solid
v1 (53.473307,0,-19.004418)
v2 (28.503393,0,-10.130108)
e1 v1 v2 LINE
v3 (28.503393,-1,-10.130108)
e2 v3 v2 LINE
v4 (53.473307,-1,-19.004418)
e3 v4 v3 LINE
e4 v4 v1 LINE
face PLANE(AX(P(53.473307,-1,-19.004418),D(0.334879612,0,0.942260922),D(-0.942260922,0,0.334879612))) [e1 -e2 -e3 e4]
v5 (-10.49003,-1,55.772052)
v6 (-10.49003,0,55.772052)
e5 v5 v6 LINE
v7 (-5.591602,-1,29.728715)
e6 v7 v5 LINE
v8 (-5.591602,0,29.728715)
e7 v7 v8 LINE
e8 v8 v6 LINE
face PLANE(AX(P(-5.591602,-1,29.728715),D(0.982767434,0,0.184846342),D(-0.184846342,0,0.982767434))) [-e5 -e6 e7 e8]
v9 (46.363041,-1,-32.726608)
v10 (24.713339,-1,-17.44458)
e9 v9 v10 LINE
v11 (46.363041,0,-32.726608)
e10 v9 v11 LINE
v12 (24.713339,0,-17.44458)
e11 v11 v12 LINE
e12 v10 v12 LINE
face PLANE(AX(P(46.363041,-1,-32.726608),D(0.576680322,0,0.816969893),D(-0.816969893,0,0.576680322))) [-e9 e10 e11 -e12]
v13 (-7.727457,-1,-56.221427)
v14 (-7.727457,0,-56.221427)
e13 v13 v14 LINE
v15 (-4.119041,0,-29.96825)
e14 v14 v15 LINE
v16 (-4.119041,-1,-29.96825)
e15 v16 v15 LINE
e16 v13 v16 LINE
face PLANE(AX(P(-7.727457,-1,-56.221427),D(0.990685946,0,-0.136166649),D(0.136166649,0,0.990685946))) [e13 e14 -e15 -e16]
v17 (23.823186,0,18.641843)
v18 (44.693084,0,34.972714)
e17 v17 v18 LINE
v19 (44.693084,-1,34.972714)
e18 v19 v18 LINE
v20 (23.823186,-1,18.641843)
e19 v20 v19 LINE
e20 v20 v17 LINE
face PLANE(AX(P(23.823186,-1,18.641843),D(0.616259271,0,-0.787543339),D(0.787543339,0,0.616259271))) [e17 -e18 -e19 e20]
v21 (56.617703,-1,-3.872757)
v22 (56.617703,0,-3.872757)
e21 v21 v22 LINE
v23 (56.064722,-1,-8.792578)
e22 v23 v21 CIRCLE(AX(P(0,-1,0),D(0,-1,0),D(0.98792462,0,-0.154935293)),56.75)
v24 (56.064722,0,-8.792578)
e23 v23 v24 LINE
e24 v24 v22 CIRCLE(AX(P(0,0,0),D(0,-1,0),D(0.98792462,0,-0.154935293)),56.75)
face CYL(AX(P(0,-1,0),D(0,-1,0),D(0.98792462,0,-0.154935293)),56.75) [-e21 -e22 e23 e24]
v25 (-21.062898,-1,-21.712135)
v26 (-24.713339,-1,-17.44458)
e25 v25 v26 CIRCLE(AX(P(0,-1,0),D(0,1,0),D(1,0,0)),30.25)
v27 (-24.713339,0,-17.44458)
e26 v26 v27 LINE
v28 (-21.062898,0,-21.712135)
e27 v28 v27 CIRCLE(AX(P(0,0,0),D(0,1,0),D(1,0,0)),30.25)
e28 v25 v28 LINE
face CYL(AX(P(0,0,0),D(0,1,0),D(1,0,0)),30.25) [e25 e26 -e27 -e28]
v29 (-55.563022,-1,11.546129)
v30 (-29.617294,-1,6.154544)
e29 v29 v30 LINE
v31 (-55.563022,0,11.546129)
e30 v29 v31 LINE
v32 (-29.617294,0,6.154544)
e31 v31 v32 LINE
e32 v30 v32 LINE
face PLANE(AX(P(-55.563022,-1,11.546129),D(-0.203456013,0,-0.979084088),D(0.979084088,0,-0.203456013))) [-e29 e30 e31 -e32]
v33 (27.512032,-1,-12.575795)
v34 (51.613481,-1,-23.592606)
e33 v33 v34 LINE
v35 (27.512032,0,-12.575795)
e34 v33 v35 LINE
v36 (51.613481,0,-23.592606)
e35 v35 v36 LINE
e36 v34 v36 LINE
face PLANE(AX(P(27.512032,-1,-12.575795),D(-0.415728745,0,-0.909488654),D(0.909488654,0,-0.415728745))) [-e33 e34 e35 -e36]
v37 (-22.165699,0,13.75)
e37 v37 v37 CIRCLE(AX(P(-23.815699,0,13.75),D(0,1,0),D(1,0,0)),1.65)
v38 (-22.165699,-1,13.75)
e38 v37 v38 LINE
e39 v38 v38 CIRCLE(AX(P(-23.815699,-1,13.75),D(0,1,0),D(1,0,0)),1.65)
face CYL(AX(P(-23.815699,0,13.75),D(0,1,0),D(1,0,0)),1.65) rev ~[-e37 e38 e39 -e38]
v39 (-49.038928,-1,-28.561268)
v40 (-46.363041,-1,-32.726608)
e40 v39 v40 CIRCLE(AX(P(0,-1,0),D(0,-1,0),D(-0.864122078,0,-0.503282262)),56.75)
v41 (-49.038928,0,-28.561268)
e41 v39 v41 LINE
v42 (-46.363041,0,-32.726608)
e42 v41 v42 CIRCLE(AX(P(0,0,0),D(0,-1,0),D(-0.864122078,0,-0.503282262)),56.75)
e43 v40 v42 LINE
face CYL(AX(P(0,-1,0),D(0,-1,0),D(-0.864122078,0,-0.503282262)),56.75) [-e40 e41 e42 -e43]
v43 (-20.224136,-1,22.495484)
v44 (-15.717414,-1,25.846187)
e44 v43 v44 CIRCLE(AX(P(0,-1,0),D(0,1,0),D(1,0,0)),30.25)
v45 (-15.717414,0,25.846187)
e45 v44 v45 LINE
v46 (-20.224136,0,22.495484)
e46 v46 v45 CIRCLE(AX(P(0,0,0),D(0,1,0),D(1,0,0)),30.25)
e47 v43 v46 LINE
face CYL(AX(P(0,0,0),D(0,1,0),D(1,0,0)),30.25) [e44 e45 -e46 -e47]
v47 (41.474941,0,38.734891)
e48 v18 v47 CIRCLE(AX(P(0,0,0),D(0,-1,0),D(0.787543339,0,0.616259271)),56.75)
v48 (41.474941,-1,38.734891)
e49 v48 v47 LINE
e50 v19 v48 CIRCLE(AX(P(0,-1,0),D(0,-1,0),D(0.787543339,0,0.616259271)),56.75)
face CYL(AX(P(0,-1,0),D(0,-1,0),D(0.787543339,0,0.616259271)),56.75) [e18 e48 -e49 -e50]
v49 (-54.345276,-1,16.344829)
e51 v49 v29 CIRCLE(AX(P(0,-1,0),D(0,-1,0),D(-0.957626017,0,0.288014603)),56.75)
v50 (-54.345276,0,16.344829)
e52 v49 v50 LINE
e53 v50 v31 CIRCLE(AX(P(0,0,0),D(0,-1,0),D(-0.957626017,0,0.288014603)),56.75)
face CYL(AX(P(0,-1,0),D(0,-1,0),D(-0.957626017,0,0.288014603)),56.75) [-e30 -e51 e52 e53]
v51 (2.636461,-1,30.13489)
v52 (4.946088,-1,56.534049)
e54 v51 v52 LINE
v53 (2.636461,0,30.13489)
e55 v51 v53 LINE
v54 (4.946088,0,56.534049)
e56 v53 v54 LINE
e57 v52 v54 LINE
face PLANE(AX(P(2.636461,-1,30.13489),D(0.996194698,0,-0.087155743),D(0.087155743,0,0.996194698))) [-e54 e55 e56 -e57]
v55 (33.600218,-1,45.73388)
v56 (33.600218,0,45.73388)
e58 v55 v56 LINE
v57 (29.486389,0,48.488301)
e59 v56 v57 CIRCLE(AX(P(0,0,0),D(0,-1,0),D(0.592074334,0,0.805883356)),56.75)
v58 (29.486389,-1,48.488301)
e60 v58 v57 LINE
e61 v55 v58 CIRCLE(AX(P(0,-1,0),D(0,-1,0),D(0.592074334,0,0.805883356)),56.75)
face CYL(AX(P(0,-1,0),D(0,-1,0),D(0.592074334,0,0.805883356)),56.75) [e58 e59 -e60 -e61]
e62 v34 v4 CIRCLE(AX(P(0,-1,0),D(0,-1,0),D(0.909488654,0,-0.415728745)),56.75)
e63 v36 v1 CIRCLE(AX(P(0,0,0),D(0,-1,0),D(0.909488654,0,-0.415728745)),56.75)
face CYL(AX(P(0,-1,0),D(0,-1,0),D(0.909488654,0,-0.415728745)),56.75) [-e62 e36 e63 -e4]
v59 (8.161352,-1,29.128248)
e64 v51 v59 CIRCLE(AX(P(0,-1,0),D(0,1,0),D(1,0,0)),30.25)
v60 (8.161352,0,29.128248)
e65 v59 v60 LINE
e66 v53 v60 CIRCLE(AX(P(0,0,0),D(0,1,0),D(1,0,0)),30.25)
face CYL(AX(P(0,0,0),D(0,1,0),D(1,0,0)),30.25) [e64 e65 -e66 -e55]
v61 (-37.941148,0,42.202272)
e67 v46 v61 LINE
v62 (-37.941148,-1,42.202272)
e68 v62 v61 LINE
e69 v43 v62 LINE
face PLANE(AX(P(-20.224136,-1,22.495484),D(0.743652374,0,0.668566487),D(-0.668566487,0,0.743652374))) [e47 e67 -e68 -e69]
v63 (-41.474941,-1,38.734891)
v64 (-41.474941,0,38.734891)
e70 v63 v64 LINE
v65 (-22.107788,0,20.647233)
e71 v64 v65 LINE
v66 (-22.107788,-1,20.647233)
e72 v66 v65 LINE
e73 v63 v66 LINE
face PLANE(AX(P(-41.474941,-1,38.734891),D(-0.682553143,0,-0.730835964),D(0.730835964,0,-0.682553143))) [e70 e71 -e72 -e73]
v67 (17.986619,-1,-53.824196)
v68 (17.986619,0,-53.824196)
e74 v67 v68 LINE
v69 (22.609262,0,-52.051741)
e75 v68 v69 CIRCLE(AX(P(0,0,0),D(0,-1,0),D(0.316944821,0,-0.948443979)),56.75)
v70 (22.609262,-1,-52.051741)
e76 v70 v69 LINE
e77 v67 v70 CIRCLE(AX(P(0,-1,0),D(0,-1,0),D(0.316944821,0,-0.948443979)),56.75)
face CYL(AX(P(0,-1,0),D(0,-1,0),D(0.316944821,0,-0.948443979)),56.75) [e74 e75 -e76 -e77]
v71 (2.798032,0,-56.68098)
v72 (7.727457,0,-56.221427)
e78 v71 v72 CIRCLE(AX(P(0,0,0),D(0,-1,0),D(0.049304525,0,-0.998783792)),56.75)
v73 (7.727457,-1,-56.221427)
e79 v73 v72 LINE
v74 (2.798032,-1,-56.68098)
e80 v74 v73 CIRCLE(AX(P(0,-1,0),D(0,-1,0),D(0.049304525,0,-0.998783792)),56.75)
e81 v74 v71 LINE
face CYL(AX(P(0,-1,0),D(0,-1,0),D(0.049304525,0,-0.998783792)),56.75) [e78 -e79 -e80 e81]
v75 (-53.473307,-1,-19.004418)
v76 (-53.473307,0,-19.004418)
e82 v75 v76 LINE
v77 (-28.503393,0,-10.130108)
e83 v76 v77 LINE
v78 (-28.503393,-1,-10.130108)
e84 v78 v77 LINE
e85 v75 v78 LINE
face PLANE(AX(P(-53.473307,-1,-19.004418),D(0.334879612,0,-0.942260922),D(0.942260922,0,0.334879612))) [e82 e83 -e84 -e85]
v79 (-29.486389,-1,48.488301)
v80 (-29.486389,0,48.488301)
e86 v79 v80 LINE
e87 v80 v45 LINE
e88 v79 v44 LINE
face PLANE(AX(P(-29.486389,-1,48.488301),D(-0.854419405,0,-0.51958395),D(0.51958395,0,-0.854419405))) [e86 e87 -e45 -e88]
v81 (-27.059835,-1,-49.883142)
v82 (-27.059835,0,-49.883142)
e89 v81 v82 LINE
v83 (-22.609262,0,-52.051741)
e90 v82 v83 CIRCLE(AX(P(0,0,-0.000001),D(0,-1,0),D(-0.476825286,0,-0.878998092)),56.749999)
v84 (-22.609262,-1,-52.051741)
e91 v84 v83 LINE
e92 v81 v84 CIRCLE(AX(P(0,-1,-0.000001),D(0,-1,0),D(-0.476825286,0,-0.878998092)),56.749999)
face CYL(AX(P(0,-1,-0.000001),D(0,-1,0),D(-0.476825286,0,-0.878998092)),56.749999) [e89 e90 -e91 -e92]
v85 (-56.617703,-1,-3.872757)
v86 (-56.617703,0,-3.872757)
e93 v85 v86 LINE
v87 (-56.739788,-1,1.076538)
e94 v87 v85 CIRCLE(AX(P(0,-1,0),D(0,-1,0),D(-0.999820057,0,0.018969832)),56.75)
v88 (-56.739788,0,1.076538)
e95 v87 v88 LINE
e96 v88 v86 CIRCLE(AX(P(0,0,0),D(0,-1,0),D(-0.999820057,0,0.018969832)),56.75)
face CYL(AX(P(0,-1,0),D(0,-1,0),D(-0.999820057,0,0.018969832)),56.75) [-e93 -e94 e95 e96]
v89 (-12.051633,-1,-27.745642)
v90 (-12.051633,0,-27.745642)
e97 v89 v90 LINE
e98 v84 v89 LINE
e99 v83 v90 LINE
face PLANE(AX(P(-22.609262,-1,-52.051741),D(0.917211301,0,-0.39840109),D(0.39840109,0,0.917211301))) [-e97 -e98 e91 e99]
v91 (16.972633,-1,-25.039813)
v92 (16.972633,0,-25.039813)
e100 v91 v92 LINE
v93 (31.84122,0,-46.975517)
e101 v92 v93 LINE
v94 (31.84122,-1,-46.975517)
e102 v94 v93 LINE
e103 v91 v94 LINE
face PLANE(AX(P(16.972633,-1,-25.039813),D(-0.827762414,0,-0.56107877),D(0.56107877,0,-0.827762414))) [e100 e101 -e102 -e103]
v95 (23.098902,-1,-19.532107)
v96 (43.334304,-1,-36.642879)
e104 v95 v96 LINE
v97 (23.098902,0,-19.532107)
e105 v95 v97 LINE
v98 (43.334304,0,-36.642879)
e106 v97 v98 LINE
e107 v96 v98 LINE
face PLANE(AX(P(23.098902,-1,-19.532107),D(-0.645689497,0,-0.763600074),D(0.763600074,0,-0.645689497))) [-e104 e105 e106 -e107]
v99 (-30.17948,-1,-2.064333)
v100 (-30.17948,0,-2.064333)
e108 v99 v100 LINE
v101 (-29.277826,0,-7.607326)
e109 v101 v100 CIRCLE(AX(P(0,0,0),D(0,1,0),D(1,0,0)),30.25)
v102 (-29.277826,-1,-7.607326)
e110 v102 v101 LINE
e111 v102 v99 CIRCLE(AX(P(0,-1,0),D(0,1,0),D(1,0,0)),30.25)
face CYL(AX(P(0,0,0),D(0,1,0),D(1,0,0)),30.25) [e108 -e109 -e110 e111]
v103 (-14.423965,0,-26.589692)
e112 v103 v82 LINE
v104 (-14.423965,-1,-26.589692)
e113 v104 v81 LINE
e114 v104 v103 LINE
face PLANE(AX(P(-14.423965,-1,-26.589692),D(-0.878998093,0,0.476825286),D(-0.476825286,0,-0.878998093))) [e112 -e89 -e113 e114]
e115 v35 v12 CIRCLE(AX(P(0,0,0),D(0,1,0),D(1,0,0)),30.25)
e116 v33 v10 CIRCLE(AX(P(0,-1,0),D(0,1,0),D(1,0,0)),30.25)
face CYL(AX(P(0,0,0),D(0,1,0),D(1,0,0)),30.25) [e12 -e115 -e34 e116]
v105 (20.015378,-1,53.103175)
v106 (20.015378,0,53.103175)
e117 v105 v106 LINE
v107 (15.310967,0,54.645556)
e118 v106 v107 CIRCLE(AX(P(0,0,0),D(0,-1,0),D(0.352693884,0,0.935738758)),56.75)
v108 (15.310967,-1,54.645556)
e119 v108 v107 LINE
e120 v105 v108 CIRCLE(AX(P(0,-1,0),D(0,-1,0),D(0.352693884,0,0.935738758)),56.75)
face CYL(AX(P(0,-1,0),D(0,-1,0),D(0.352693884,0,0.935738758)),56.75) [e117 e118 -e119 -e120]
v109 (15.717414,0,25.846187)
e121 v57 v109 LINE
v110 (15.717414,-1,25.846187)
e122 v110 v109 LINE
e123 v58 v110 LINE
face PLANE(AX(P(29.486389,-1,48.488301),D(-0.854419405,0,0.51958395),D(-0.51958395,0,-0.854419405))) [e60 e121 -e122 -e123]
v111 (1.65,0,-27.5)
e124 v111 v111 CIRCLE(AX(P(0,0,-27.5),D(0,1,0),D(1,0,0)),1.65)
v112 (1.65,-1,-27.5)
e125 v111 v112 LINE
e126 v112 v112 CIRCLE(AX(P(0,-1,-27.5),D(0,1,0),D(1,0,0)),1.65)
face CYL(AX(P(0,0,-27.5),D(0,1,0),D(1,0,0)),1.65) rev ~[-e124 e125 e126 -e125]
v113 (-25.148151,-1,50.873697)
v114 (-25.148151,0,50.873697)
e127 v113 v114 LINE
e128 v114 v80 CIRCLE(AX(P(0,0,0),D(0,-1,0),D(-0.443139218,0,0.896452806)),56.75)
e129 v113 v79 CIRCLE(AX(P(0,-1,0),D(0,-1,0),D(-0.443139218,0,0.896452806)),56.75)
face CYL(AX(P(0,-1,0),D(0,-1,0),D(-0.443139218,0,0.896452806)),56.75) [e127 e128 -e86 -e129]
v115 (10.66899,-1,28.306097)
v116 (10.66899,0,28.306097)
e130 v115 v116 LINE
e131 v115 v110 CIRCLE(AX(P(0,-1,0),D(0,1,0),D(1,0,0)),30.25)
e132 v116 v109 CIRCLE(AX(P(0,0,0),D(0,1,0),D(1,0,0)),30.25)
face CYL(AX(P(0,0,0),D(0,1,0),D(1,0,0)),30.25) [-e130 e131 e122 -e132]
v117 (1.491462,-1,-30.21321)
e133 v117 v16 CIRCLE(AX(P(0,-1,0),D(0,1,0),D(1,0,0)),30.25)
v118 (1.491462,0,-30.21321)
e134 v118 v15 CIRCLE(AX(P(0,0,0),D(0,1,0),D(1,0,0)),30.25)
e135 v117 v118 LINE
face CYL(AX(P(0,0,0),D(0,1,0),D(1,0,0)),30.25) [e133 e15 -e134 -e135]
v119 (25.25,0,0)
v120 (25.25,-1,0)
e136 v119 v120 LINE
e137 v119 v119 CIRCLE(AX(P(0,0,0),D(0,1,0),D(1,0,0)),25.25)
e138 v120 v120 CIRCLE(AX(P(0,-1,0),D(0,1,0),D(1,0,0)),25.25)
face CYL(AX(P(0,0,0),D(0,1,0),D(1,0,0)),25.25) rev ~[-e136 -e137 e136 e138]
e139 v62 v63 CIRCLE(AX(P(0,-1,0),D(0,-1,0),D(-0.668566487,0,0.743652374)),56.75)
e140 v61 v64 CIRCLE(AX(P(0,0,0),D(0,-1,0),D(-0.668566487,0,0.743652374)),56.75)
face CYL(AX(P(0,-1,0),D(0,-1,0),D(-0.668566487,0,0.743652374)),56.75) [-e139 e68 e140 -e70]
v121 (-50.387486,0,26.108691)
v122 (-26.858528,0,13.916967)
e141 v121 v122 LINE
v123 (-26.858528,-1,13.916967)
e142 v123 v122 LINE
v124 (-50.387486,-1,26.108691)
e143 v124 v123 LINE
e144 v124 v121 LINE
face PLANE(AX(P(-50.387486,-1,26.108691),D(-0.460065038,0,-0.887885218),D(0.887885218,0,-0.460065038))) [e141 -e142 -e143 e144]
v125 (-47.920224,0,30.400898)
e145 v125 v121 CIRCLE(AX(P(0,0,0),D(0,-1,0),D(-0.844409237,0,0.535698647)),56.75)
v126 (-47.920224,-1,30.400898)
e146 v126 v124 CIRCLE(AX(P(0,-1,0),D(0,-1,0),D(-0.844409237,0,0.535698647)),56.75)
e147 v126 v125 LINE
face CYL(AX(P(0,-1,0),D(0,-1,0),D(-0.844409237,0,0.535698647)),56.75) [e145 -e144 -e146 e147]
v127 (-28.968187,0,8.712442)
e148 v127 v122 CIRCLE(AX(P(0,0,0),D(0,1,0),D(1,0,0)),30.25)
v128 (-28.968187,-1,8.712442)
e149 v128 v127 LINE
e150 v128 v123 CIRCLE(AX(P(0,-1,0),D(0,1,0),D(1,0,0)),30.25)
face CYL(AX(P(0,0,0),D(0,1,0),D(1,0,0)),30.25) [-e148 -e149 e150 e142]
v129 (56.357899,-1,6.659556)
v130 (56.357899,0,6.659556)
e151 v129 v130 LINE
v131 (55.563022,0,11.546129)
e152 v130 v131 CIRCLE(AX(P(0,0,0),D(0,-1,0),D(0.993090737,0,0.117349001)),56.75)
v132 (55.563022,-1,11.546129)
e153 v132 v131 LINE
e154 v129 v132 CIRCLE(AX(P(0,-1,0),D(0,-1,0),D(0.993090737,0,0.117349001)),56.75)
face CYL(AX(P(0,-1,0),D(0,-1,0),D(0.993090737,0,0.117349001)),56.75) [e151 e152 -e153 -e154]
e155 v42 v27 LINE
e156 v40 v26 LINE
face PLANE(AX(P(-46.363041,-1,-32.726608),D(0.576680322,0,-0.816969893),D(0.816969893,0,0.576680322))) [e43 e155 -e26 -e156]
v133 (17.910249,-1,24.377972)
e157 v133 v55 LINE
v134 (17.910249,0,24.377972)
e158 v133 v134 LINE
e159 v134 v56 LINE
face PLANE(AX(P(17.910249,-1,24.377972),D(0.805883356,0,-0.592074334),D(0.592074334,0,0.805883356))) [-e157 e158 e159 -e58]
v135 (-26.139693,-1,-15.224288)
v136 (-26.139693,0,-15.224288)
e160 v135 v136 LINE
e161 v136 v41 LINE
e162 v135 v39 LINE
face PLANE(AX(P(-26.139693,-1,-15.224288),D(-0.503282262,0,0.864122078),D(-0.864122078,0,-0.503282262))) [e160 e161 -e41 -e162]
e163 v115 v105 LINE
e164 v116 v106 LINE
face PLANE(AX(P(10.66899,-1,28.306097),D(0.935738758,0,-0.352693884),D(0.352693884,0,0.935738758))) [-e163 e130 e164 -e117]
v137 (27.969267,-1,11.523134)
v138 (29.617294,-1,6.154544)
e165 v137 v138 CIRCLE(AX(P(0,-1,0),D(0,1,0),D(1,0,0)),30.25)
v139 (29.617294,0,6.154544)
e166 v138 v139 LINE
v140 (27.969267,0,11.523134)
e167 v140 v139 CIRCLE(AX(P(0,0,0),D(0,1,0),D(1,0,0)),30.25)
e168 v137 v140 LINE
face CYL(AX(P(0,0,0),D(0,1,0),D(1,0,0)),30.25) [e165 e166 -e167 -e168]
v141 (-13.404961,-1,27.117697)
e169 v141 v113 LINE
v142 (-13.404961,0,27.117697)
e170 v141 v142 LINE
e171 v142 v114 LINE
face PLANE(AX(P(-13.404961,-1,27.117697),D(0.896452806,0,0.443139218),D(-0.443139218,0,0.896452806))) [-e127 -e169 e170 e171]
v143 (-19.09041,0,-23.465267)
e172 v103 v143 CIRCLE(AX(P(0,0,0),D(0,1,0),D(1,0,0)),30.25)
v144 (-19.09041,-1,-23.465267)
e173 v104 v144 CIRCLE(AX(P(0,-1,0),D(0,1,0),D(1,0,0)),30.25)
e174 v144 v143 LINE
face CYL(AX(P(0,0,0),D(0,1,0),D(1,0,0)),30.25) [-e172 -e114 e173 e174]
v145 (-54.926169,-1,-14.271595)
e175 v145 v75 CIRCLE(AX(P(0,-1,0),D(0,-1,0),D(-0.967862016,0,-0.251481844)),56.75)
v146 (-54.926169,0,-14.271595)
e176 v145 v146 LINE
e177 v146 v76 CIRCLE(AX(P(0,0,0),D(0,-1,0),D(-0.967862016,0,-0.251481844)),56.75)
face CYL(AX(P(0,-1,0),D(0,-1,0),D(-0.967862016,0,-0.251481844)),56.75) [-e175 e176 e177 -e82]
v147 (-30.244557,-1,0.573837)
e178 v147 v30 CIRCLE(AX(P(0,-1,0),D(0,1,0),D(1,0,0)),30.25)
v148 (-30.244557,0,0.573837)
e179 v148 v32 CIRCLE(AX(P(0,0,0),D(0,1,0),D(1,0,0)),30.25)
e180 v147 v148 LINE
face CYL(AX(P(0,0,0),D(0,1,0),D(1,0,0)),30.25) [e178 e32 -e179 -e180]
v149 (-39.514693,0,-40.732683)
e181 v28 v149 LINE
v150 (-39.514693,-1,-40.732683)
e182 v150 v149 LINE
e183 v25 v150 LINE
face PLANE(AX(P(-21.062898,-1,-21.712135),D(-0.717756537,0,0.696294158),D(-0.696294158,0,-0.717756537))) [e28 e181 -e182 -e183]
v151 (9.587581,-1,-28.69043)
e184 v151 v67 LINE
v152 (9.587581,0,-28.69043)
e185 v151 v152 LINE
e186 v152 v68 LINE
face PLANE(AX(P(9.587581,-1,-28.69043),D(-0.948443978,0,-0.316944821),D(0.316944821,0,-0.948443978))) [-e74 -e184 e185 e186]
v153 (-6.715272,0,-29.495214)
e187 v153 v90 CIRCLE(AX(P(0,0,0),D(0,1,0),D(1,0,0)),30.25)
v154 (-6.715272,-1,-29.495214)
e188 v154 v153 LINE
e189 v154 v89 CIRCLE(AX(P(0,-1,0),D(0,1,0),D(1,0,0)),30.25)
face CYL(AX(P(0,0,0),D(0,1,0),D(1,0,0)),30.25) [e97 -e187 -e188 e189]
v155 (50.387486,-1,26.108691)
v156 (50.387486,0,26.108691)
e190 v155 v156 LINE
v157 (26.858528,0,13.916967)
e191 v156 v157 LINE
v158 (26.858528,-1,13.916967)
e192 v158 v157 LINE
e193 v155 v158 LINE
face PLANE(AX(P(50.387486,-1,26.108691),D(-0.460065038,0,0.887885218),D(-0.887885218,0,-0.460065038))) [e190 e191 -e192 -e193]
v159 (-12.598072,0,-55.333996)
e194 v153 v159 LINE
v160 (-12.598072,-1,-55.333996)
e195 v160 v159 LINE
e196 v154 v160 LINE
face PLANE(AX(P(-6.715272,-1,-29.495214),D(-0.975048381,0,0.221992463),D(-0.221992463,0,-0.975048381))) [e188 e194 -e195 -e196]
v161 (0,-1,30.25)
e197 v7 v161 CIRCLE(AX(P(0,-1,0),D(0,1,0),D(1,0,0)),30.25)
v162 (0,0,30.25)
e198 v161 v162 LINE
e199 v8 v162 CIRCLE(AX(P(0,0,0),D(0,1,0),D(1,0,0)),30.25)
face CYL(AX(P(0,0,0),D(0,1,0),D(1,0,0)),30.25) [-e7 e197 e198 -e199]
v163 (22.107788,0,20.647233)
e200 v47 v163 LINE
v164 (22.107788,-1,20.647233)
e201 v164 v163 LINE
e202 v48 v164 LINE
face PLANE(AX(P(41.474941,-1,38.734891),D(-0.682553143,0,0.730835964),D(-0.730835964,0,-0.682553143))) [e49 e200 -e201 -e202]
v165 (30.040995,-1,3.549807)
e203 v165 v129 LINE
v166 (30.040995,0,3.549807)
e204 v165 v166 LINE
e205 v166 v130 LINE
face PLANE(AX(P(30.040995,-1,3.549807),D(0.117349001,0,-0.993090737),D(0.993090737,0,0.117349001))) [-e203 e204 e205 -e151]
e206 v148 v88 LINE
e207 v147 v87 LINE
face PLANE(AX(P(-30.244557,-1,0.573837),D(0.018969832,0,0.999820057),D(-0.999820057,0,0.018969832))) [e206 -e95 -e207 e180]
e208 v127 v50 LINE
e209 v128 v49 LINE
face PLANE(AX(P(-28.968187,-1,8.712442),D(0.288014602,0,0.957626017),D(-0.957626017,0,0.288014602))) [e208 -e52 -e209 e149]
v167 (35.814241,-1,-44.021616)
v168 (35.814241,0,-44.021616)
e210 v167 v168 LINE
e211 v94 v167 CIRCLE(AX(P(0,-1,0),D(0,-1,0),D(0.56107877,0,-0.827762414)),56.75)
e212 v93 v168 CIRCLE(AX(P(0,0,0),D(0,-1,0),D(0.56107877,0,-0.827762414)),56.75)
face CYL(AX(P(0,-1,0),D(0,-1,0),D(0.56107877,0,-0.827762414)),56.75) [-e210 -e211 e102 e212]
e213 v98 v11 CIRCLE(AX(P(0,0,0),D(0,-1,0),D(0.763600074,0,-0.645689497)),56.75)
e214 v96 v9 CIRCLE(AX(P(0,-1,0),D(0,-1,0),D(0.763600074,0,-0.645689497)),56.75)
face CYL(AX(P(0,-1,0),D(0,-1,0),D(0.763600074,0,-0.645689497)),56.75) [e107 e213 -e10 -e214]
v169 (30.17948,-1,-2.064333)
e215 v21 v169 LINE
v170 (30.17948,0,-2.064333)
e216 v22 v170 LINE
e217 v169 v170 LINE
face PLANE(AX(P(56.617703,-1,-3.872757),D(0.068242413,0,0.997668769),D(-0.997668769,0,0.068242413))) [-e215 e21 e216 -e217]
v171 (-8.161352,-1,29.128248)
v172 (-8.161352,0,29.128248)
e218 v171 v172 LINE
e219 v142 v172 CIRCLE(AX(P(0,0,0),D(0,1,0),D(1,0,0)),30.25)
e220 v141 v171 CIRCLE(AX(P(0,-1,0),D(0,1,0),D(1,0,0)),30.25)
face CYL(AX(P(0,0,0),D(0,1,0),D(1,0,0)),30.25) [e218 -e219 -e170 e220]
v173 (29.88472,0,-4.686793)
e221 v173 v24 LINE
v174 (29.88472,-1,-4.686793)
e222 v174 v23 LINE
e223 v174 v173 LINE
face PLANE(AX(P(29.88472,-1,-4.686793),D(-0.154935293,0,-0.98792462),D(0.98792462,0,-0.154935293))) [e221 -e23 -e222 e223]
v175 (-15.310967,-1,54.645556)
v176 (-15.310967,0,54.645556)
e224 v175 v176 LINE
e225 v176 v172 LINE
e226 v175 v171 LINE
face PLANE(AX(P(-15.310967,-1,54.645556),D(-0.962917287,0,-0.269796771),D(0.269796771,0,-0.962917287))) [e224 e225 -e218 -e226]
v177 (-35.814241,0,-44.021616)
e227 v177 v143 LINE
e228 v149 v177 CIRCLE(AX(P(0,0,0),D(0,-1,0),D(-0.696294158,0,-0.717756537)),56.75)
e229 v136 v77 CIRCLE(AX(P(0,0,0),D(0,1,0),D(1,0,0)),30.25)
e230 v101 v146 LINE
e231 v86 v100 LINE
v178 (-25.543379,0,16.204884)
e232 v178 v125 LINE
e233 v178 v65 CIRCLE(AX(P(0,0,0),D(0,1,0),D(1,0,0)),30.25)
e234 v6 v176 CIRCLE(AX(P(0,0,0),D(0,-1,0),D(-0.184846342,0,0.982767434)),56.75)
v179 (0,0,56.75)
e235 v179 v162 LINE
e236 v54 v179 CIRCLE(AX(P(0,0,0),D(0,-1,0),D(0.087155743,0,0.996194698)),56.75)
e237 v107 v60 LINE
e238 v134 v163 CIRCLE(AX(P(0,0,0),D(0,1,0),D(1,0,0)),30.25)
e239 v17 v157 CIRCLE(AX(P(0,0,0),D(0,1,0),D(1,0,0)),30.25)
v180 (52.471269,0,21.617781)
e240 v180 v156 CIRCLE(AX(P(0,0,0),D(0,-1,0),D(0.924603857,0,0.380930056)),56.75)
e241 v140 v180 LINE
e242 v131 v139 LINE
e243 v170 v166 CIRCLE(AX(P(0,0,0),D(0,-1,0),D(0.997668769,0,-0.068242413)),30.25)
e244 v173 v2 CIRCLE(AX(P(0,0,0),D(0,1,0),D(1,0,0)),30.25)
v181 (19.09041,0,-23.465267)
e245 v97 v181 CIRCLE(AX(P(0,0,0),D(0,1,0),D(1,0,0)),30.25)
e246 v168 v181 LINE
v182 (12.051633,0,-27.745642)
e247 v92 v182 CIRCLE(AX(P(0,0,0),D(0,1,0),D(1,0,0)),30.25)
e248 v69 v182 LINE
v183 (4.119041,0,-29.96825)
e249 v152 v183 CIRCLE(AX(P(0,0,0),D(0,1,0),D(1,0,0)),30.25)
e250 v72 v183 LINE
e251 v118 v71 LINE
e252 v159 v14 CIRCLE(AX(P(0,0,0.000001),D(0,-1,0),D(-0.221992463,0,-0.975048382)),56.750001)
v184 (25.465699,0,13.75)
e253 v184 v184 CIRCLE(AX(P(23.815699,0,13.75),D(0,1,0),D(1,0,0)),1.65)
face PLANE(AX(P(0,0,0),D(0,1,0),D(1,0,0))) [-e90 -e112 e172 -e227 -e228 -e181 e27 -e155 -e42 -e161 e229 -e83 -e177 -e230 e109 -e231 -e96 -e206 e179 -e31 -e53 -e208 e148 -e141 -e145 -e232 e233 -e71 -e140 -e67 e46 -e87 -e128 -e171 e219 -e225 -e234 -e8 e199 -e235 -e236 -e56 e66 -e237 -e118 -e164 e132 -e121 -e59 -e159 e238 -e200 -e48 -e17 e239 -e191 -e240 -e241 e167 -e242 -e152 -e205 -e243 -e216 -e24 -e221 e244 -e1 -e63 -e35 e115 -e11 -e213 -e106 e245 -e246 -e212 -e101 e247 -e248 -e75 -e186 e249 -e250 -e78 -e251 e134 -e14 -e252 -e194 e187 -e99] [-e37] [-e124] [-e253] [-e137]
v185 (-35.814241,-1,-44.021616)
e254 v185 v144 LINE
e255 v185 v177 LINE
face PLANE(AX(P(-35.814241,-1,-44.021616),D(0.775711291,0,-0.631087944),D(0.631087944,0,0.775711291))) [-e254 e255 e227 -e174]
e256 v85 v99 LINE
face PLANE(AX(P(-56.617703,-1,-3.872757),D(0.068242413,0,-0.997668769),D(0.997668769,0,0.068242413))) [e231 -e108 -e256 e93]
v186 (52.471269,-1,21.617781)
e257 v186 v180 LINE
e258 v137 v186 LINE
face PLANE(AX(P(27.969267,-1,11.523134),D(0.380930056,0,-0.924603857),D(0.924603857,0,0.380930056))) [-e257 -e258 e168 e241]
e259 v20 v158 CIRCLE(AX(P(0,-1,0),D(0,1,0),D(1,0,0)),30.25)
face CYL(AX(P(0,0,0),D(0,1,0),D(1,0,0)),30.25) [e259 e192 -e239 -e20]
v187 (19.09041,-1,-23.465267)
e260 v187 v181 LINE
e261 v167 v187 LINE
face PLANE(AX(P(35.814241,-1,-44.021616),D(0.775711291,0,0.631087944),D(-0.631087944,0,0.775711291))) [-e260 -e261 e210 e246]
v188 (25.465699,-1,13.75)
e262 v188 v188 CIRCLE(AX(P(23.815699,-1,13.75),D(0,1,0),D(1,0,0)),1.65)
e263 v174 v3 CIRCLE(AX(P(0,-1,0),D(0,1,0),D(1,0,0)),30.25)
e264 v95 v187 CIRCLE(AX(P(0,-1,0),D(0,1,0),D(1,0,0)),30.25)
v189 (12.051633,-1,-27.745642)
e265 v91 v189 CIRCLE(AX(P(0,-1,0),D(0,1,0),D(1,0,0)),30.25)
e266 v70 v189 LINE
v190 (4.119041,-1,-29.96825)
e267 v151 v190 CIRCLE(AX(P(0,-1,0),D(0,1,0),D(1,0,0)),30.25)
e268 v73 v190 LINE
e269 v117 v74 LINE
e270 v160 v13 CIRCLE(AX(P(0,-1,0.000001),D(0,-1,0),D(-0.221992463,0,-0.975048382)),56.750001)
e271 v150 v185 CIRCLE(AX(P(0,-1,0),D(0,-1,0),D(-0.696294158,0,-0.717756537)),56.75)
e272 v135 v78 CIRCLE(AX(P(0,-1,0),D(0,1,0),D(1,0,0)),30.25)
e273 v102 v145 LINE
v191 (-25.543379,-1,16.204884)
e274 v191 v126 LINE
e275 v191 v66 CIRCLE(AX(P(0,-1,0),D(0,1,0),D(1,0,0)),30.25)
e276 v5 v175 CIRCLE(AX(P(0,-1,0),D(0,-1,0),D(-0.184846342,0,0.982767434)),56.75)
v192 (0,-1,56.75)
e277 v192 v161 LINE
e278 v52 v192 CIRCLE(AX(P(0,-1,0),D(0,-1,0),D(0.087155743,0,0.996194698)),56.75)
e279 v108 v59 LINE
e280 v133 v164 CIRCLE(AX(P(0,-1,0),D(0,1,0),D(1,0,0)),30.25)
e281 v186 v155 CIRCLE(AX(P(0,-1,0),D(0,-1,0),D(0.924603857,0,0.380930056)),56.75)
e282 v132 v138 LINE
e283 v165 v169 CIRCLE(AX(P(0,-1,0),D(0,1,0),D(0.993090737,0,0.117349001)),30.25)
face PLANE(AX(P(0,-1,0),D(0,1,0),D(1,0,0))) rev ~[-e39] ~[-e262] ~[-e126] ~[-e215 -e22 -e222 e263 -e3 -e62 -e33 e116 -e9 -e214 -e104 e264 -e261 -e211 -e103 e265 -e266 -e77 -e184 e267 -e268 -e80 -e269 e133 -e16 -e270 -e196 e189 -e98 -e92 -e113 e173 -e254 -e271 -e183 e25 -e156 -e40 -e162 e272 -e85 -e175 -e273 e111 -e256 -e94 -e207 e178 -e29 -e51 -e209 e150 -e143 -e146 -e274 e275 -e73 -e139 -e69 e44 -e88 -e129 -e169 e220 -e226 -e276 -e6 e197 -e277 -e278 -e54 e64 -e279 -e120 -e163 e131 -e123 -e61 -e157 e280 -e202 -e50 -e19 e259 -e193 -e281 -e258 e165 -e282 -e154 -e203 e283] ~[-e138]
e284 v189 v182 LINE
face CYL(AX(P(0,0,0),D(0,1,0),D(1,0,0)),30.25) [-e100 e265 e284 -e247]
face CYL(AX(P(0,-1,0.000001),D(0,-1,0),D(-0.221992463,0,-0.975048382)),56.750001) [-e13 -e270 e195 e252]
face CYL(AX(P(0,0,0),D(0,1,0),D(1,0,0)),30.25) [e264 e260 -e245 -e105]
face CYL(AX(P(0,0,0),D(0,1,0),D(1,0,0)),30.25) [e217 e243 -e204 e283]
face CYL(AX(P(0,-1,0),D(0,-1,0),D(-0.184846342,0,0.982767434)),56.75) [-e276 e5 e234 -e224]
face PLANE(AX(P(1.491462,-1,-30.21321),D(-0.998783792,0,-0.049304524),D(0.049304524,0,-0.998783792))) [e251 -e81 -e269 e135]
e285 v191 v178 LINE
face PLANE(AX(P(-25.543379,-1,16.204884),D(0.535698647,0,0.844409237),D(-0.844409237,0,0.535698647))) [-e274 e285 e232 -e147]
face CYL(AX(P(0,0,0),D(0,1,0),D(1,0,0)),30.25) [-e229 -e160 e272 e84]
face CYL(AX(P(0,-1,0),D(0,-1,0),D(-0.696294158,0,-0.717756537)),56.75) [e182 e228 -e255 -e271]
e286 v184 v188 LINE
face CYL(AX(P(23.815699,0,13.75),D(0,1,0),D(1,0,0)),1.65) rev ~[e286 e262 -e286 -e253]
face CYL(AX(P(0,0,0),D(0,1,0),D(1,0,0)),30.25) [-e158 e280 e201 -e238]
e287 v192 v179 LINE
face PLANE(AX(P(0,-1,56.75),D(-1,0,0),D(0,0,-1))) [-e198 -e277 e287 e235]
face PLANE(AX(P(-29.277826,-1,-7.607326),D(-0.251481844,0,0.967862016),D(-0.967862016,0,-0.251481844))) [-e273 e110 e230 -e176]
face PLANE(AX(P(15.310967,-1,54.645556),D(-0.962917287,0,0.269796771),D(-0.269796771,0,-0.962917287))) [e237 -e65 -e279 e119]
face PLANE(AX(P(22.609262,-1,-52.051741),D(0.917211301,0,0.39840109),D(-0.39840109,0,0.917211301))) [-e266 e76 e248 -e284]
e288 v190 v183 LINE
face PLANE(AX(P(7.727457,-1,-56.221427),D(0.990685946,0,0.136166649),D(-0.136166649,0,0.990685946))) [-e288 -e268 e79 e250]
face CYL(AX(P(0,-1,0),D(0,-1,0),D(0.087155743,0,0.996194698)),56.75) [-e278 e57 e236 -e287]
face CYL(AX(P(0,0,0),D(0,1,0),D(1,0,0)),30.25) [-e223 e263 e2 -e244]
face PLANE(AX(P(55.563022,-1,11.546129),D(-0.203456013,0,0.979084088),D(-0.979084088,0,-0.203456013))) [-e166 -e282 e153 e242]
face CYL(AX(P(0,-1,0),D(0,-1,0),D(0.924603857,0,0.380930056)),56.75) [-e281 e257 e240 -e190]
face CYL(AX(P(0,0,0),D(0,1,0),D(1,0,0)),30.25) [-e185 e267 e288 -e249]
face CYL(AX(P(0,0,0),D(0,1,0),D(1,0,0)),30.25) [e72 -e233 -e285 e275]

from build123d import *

# Parameters (mm, degrees)
SKETCH1_R           = 30.25
SKETCH1_R_2         = 25.25
EXTRUDE_THIN1_DEPTH = 1
SKETCH2_R           = 1.65
CUT_EXTRUDE3_DEPTH  = 10
BOSS_EXTRUDE1_DEPTH = 1


with BuildPart() as part:
    # Sketch1 → Extrude-Thin1 (new body)
    with BuildSketch(Plane(origin=(0, 0, 0), x_dir=(1, 0, 0), z_dir=(0, 1, 0))):
        Circle(SKETCH1_R)
        Circle(SKETCH1_R_2, mode=Mode.SUBTRACT)
    extrude(amount=-EXTRUDE_THIN1_DEPTH)

    # Sketch2 → Cut-Extrude3 (cut)
    with BuildSketch(Plane(origin=(0, 0, 0), x_dir=(1, 0, 0), z_dir=(0, 1, 0))):
        with Locations((0, 27.5)):
            Circle(SKETCH2_R)
        with Locations((23.815698604, -13.75)):
            Circle(SKETCH2_R)
        with Locations((-23.815698604, -13.75)):
            Circle(SKETCH2_R)
    extrude(amount=-CUT_EXTRUDE3_DEPTH, mode=Mode.SUBTRACT)

    # Sketch5 → Boss-Extrude1 (add)
    with BuildSketch(Plane.XZ.offset(1)):
        with BuildLine():
            Line((0, 56.75), (0, 30.25))
            ThreePointArc((0, 30.25), (1.319486468, 30.221208703), (2.636461218, 30.134889617))
            Line((2.636461218, 30.134889617), (4.946088401, 56.534049117))
            ThreePointArc((4.946088401, 56.534049117), (2.475400233, 56.695986575), (0, 56.75))
        make_face()
        with BuildLine():
            Line((15.310966763, 54.645556057), (8.161352328, 29.128247942))
            ThreePointArc((8.161352328, 29.128247942), (9.424140859, 28.744531116), (10.668990002, 28.306097441))
            Line((10.668990002, 28.306097441), (20.015377938, 53.103174538))
            ThreePointArc((20.015377938, 53.103174538), (17.679999793, 53.925690606), (15.310966763, 54.645556057))
        make_face()
        with BuildLine():
            Line((29.486389165, 48.488301208), (15.717414489, 25.846186988))
            ThreePointArc((15.717414489, 25.846186988), (16.829849835, 25.136003154), (17.910248605, 24.377971509))
            Line((17.910248605, 24.377971509), (33.600218458, 45.733880434))
            ThreePointArc((33.600218458, 45.733880434), (31.573354649, 47.155972858), (29.486389165, 48.488301208))
        make_face()
        with BuildLine():
            Line((41.474940973, 38.734890878), (22.107787919, 20.647232582))
            ThreePointArc((22.107787919, 20.647232582), (22.98736584, 19.663252827), (23.823186003, 18.641842952))
            Line((23.823186003, 18.641842952), (44.693084485, 34.972713638))
            ThreePointArc((44.693084485, 34.972713638), (43.125058229, 36.888912328), (41.474940973, 38.734890878))
        make_face()
        with BuildLine():
            Line((50.387486144, 26.108690891), (26.858527857, 13.916967391))
            ThreePointArc((26.858527857, 13.916967391), (27.440014081, 12.732168992), (27.969266679, 11.523134184))
            Line((27.969266679, 11.523134184), (52.471268894, 21.61778066))
            ThreePointArc((52.471268894, 21.61778066), (51.478373524, 23.885969926), (50.387486144, 26.108690891))
        make_face()
        with BuildLine():
            Line((55.563021976, 11.546128741), (29.617293652, 6.154544395))
            ThreePointArc((29.617293652, 6.154544395), (29.857562008, 4.856798428), (30.040994796, 3.549807269))
            Line((30.040994796, 3.549807269), (56.357899329, 6.659555785))
            ThreePointArc((56.357899329, 6.659555785), (56.013773353, 9.111514406), (55.563021976, 11.546128741))
        make_face()
        with BuildLine():
            Line((56.617702652, -3.872756958), (30.179480268, -2.064333004))
            ThreePointArc((30.179480268, -2.064333004), (30.060711149, -3.378778657), (29.884719758, -4.686792612))
            Line((29.884719758, -4.686792612), (56.06472219, -8.792577876))
            ThreePointArc((56.06472219, -8.792577876), (56.394887858, -6.338700456), (56.617702652, -3.872756958))
        make_face()
        with BuildLine():
            Line((53.47330733, -19.004417991), (28.503392894, -10.130108268))
            ThreePointArc((28.503392894, -10.130108268), (28.034394863, -11.363767186), (27.512031768, -12.575794526))
            Line((27.512031768, -12.575794526), (51.613481086, -23.59260626))
            ThreePointArc((51.613481086, -23.59260626), (52.59345152, -21.318802902), (53.47330733, -19.004417991))
        make_face()
        with BuildLine():
            Line((46.363041428, -32.72660828), (24.713339264, -17.444579744))
            ThreePointArc((24.713339264, -17.444579744), (23.928895759, -18.505957088), (23.098902242, -19.532107291))
            Line((23.098902242, -19.532107291), (43.334304206, -36.642878967))
            ThreePointArc((43.334304206, -36.642878967), (44.891399482, -34.717787264), (46.363041428, -32.72660828))
        make_face()
        with BuildLine():
            Line((35.814240841, -44.021615747), (19.090410316, -23.465266544))
            ThreePointArc((19.090410316, -23.465266544), (18.048699924, -24.275644812), (16.972632807, -25.039813011))
            Line((16.972632807, -25.039813011), (31.841220224, -46.97551697))
            ThreePointArc((31.841220224, -46.97551697), (33.859957709, -45.541912168), (35.814240841, -44.021615747))
        make_face()
        with BuildLine():
            Line((22.609261849, -52.05174136), (12.051632968, -27.745641871))
            ThreePointArc((12.051632968, -27.745641871), (10.829914583, -28.244919014), (9.587580841, -28.690430349))
            Line((9.587580841, -28.690430349), (17.986618602, -53.824195779))
            ThreePointArc((17.986618602, -53.824195779), (20.317277772, -52.988401787), (22.609261849, -52.05174136))
        make_face()
        with BuildLine():
            Line((7.727457336, -56.221427438), (4.119041135, -29.968249868))
            ThreePointArc((4.119041135, -29.968249868), (2.807924021, -30.119396785), (1.491461864, -30.213209719))
            Line((1.491461864, -30.213209719), (2.798031761, -56.680980216))
            ThreePointArc((2.798031761, -56.680980216), (5.267758287, -56.504984051), (7.727457336, -56.221427438))
        make_face()
        with BuildLine():
            Line((-7.727457336, -56.221427438), (-4.119041135, -29.968249868))
            ThreePointArc((-4.119041135, -29.968249868), (-5.42231742, -29.760056683), (-6.715272016, -29.49521354))
            Line((-6.715272016, -29.49521354), (-12.598072295, -55.333995649))
            ThreePointArc((-12.598072295, -55.333995649), (-10.172446731, -55.830850141), (-7.727457336, -56.221427438))
        make_face()
        with BuildLine():
            Line((-22.609261849, -52.05174136), (-12.051632968, -27.745641871))
            ThreePointArc((-12.051632968, -27.745641871), (-13.250410384, -27.193549321), (-14.423964891, -26.589692304))
            Line((-14.423964891, -26.589692304), (-27.059834961, -49.88314176))
            ThreePointArc((-27.059834961, -49.88314176), (-24.858207911, -51.015997486), (-22.609261849, -52.05174136))
        make_face()
        with BuildLine():
            Line((-35.814240841, -44.021615747), (-19.090410316, -23.465266544))
            ThreePointArc((-19.090410316, -23.465266544), (-20.095781026, -22.610220807), (-21.062898275, -21.71213523))
            Line((-21.062898275, -21.71213523), (-39.514693459, -40.732683448))
            ThreePointArc((-39.514693459, -40.732683448), (-37.700349529, -42.417521679), (-35.814240841, -44.021615747))
        make_face()
        with BuildLine():
            Line((-46.363041428, -32.72660828), (-24.713339264, -17.444579744))
            ThreePointArc((-24.713339264, -17.444579744), (-25.450739522, -16.349995651), (-26.139692851, -15.224288412))
            Line((-26.139692851, -15.224288412), (-49.038927911, -28.561268343))
            ThreePointArc((-49.038927911, -28.561268343), (-47.74642869, -30.673132337), (-46.363041428, -32.72660828))
        make_face()
        with BuildLine():
            Line((-53.47330733, -19.004417991), (-28.503392894, -10.130108268))
            ThreePointArc((-28.503392894, -10.130108268), (-28.918133096, -8.877166114), (-29.277825989, -7.607325769))
            Line((-29.277825989, -7.607325769), (-54.926169417, -14.271594625))
            ThreePointArc((-54.926169417, -14.271594625), (-54.25137366, -16.65385709), (-53.47330733, -19.004417991))
        make_face()
        with BuildLine():
            Line((-56.617702652, -3.872756958), (-30.179480268, -2.064333004))
            ThreePointArc((-30.179480268, -2.064333004), (-30.240801031, -0.745957776), (-30.24455671, 0.573837425))
            Line((-30.24455671, 0.573837425), (-56.739788209, 1.076537978))
            ThreePointArc((-56.739788209, 1.076537978), (-56.73274243, -1.399441448), (-56.617702652, -3.872756958))
        make_face()
        with BuildLine():
            Line((-55.563021976, 11.546128741), (-29.617293652, 6.154544395))
            ThreePointArc((-29.617293652, 6.154544395), (-29.320647095, 7.440574837), (-28.96818702, 8.712441722))
            Line((-28.96818702, 8.712441722), (-54.345276476, 16.344828685))
            ThreePointArc((-54.345276476, 16.344828685), (-55.006503229, 13.958764363), (-55.563021976, 11.546128741))
        make_face()
        with BuildLine():
            Line((-50.387486144, 26.108690891), (-26.858527857, 13.916967391))
            ThreePointArc((-26.858527857, 13.916967391), (-26.225914898, 15.075274053), (-25.54337942, 16.204884073))
            Line((-25.54337942, 16.204884073), (-47.9202242, 30.40089822))
            ThreePointArc((-47.9202242, 30.40089822), (-49.200683321, 28.281712479), (-50.387486144, 26.108690891))
        make_face()
        with BuildLine():
            Line((-41.474940973, 38.734890878), (-22.107787919, 20.647232582))
            ThreePointArc((-22.107787919, 20.647232582), (-21.186126568, 21.591909157), (-20.22413622, 22.495484305))
            Line((-20.22413622, 22.495484305), (-37.941148116, 42.202272209))
            ThreePointArc((-37.941148116, 42.202272209), (-39.745873809, 40.507135361), (-41.474940973, 38.734890878))
        make_face()
        with BuildLine():
            Line((-29.486389165, 48.488301208), (-15.717414489, 25.846186988))
            ThreePointArc((-15.717414489, 25.846186988), (-14.575060151, 26.507171136), (-13.404961357, 27.117697377))
            Line((-13.404961357, 27.117697377), (-25.148150645, 50.873696731))
            ThreePointArc((-25.148150645, 50.873696731), (-27.343294663, 49.72832932), (-29.486389165, 48.488301208))
        make_face()
        with BuildLine():
            Line((-15.310966763, 54.645556057), (-8.161352327, 29.128247942))
            ThreePointArc((-8.161352327, 29.128247942), (-6.883028198, 29.456517493), (-5.591601834, 29.728714889))
            Line((-5.591601834, 29.728714889), (-10.490029886, 55.772051899))
            ThreePointArc((-10.490029886, 55.772051899), (-12.912788438, 55.261400586), (-15.310966763, 54.645556057))
        make_face()
    extrude(amount=-BOSS_EXTRUDE1_DEPTH)


solid = part.part
